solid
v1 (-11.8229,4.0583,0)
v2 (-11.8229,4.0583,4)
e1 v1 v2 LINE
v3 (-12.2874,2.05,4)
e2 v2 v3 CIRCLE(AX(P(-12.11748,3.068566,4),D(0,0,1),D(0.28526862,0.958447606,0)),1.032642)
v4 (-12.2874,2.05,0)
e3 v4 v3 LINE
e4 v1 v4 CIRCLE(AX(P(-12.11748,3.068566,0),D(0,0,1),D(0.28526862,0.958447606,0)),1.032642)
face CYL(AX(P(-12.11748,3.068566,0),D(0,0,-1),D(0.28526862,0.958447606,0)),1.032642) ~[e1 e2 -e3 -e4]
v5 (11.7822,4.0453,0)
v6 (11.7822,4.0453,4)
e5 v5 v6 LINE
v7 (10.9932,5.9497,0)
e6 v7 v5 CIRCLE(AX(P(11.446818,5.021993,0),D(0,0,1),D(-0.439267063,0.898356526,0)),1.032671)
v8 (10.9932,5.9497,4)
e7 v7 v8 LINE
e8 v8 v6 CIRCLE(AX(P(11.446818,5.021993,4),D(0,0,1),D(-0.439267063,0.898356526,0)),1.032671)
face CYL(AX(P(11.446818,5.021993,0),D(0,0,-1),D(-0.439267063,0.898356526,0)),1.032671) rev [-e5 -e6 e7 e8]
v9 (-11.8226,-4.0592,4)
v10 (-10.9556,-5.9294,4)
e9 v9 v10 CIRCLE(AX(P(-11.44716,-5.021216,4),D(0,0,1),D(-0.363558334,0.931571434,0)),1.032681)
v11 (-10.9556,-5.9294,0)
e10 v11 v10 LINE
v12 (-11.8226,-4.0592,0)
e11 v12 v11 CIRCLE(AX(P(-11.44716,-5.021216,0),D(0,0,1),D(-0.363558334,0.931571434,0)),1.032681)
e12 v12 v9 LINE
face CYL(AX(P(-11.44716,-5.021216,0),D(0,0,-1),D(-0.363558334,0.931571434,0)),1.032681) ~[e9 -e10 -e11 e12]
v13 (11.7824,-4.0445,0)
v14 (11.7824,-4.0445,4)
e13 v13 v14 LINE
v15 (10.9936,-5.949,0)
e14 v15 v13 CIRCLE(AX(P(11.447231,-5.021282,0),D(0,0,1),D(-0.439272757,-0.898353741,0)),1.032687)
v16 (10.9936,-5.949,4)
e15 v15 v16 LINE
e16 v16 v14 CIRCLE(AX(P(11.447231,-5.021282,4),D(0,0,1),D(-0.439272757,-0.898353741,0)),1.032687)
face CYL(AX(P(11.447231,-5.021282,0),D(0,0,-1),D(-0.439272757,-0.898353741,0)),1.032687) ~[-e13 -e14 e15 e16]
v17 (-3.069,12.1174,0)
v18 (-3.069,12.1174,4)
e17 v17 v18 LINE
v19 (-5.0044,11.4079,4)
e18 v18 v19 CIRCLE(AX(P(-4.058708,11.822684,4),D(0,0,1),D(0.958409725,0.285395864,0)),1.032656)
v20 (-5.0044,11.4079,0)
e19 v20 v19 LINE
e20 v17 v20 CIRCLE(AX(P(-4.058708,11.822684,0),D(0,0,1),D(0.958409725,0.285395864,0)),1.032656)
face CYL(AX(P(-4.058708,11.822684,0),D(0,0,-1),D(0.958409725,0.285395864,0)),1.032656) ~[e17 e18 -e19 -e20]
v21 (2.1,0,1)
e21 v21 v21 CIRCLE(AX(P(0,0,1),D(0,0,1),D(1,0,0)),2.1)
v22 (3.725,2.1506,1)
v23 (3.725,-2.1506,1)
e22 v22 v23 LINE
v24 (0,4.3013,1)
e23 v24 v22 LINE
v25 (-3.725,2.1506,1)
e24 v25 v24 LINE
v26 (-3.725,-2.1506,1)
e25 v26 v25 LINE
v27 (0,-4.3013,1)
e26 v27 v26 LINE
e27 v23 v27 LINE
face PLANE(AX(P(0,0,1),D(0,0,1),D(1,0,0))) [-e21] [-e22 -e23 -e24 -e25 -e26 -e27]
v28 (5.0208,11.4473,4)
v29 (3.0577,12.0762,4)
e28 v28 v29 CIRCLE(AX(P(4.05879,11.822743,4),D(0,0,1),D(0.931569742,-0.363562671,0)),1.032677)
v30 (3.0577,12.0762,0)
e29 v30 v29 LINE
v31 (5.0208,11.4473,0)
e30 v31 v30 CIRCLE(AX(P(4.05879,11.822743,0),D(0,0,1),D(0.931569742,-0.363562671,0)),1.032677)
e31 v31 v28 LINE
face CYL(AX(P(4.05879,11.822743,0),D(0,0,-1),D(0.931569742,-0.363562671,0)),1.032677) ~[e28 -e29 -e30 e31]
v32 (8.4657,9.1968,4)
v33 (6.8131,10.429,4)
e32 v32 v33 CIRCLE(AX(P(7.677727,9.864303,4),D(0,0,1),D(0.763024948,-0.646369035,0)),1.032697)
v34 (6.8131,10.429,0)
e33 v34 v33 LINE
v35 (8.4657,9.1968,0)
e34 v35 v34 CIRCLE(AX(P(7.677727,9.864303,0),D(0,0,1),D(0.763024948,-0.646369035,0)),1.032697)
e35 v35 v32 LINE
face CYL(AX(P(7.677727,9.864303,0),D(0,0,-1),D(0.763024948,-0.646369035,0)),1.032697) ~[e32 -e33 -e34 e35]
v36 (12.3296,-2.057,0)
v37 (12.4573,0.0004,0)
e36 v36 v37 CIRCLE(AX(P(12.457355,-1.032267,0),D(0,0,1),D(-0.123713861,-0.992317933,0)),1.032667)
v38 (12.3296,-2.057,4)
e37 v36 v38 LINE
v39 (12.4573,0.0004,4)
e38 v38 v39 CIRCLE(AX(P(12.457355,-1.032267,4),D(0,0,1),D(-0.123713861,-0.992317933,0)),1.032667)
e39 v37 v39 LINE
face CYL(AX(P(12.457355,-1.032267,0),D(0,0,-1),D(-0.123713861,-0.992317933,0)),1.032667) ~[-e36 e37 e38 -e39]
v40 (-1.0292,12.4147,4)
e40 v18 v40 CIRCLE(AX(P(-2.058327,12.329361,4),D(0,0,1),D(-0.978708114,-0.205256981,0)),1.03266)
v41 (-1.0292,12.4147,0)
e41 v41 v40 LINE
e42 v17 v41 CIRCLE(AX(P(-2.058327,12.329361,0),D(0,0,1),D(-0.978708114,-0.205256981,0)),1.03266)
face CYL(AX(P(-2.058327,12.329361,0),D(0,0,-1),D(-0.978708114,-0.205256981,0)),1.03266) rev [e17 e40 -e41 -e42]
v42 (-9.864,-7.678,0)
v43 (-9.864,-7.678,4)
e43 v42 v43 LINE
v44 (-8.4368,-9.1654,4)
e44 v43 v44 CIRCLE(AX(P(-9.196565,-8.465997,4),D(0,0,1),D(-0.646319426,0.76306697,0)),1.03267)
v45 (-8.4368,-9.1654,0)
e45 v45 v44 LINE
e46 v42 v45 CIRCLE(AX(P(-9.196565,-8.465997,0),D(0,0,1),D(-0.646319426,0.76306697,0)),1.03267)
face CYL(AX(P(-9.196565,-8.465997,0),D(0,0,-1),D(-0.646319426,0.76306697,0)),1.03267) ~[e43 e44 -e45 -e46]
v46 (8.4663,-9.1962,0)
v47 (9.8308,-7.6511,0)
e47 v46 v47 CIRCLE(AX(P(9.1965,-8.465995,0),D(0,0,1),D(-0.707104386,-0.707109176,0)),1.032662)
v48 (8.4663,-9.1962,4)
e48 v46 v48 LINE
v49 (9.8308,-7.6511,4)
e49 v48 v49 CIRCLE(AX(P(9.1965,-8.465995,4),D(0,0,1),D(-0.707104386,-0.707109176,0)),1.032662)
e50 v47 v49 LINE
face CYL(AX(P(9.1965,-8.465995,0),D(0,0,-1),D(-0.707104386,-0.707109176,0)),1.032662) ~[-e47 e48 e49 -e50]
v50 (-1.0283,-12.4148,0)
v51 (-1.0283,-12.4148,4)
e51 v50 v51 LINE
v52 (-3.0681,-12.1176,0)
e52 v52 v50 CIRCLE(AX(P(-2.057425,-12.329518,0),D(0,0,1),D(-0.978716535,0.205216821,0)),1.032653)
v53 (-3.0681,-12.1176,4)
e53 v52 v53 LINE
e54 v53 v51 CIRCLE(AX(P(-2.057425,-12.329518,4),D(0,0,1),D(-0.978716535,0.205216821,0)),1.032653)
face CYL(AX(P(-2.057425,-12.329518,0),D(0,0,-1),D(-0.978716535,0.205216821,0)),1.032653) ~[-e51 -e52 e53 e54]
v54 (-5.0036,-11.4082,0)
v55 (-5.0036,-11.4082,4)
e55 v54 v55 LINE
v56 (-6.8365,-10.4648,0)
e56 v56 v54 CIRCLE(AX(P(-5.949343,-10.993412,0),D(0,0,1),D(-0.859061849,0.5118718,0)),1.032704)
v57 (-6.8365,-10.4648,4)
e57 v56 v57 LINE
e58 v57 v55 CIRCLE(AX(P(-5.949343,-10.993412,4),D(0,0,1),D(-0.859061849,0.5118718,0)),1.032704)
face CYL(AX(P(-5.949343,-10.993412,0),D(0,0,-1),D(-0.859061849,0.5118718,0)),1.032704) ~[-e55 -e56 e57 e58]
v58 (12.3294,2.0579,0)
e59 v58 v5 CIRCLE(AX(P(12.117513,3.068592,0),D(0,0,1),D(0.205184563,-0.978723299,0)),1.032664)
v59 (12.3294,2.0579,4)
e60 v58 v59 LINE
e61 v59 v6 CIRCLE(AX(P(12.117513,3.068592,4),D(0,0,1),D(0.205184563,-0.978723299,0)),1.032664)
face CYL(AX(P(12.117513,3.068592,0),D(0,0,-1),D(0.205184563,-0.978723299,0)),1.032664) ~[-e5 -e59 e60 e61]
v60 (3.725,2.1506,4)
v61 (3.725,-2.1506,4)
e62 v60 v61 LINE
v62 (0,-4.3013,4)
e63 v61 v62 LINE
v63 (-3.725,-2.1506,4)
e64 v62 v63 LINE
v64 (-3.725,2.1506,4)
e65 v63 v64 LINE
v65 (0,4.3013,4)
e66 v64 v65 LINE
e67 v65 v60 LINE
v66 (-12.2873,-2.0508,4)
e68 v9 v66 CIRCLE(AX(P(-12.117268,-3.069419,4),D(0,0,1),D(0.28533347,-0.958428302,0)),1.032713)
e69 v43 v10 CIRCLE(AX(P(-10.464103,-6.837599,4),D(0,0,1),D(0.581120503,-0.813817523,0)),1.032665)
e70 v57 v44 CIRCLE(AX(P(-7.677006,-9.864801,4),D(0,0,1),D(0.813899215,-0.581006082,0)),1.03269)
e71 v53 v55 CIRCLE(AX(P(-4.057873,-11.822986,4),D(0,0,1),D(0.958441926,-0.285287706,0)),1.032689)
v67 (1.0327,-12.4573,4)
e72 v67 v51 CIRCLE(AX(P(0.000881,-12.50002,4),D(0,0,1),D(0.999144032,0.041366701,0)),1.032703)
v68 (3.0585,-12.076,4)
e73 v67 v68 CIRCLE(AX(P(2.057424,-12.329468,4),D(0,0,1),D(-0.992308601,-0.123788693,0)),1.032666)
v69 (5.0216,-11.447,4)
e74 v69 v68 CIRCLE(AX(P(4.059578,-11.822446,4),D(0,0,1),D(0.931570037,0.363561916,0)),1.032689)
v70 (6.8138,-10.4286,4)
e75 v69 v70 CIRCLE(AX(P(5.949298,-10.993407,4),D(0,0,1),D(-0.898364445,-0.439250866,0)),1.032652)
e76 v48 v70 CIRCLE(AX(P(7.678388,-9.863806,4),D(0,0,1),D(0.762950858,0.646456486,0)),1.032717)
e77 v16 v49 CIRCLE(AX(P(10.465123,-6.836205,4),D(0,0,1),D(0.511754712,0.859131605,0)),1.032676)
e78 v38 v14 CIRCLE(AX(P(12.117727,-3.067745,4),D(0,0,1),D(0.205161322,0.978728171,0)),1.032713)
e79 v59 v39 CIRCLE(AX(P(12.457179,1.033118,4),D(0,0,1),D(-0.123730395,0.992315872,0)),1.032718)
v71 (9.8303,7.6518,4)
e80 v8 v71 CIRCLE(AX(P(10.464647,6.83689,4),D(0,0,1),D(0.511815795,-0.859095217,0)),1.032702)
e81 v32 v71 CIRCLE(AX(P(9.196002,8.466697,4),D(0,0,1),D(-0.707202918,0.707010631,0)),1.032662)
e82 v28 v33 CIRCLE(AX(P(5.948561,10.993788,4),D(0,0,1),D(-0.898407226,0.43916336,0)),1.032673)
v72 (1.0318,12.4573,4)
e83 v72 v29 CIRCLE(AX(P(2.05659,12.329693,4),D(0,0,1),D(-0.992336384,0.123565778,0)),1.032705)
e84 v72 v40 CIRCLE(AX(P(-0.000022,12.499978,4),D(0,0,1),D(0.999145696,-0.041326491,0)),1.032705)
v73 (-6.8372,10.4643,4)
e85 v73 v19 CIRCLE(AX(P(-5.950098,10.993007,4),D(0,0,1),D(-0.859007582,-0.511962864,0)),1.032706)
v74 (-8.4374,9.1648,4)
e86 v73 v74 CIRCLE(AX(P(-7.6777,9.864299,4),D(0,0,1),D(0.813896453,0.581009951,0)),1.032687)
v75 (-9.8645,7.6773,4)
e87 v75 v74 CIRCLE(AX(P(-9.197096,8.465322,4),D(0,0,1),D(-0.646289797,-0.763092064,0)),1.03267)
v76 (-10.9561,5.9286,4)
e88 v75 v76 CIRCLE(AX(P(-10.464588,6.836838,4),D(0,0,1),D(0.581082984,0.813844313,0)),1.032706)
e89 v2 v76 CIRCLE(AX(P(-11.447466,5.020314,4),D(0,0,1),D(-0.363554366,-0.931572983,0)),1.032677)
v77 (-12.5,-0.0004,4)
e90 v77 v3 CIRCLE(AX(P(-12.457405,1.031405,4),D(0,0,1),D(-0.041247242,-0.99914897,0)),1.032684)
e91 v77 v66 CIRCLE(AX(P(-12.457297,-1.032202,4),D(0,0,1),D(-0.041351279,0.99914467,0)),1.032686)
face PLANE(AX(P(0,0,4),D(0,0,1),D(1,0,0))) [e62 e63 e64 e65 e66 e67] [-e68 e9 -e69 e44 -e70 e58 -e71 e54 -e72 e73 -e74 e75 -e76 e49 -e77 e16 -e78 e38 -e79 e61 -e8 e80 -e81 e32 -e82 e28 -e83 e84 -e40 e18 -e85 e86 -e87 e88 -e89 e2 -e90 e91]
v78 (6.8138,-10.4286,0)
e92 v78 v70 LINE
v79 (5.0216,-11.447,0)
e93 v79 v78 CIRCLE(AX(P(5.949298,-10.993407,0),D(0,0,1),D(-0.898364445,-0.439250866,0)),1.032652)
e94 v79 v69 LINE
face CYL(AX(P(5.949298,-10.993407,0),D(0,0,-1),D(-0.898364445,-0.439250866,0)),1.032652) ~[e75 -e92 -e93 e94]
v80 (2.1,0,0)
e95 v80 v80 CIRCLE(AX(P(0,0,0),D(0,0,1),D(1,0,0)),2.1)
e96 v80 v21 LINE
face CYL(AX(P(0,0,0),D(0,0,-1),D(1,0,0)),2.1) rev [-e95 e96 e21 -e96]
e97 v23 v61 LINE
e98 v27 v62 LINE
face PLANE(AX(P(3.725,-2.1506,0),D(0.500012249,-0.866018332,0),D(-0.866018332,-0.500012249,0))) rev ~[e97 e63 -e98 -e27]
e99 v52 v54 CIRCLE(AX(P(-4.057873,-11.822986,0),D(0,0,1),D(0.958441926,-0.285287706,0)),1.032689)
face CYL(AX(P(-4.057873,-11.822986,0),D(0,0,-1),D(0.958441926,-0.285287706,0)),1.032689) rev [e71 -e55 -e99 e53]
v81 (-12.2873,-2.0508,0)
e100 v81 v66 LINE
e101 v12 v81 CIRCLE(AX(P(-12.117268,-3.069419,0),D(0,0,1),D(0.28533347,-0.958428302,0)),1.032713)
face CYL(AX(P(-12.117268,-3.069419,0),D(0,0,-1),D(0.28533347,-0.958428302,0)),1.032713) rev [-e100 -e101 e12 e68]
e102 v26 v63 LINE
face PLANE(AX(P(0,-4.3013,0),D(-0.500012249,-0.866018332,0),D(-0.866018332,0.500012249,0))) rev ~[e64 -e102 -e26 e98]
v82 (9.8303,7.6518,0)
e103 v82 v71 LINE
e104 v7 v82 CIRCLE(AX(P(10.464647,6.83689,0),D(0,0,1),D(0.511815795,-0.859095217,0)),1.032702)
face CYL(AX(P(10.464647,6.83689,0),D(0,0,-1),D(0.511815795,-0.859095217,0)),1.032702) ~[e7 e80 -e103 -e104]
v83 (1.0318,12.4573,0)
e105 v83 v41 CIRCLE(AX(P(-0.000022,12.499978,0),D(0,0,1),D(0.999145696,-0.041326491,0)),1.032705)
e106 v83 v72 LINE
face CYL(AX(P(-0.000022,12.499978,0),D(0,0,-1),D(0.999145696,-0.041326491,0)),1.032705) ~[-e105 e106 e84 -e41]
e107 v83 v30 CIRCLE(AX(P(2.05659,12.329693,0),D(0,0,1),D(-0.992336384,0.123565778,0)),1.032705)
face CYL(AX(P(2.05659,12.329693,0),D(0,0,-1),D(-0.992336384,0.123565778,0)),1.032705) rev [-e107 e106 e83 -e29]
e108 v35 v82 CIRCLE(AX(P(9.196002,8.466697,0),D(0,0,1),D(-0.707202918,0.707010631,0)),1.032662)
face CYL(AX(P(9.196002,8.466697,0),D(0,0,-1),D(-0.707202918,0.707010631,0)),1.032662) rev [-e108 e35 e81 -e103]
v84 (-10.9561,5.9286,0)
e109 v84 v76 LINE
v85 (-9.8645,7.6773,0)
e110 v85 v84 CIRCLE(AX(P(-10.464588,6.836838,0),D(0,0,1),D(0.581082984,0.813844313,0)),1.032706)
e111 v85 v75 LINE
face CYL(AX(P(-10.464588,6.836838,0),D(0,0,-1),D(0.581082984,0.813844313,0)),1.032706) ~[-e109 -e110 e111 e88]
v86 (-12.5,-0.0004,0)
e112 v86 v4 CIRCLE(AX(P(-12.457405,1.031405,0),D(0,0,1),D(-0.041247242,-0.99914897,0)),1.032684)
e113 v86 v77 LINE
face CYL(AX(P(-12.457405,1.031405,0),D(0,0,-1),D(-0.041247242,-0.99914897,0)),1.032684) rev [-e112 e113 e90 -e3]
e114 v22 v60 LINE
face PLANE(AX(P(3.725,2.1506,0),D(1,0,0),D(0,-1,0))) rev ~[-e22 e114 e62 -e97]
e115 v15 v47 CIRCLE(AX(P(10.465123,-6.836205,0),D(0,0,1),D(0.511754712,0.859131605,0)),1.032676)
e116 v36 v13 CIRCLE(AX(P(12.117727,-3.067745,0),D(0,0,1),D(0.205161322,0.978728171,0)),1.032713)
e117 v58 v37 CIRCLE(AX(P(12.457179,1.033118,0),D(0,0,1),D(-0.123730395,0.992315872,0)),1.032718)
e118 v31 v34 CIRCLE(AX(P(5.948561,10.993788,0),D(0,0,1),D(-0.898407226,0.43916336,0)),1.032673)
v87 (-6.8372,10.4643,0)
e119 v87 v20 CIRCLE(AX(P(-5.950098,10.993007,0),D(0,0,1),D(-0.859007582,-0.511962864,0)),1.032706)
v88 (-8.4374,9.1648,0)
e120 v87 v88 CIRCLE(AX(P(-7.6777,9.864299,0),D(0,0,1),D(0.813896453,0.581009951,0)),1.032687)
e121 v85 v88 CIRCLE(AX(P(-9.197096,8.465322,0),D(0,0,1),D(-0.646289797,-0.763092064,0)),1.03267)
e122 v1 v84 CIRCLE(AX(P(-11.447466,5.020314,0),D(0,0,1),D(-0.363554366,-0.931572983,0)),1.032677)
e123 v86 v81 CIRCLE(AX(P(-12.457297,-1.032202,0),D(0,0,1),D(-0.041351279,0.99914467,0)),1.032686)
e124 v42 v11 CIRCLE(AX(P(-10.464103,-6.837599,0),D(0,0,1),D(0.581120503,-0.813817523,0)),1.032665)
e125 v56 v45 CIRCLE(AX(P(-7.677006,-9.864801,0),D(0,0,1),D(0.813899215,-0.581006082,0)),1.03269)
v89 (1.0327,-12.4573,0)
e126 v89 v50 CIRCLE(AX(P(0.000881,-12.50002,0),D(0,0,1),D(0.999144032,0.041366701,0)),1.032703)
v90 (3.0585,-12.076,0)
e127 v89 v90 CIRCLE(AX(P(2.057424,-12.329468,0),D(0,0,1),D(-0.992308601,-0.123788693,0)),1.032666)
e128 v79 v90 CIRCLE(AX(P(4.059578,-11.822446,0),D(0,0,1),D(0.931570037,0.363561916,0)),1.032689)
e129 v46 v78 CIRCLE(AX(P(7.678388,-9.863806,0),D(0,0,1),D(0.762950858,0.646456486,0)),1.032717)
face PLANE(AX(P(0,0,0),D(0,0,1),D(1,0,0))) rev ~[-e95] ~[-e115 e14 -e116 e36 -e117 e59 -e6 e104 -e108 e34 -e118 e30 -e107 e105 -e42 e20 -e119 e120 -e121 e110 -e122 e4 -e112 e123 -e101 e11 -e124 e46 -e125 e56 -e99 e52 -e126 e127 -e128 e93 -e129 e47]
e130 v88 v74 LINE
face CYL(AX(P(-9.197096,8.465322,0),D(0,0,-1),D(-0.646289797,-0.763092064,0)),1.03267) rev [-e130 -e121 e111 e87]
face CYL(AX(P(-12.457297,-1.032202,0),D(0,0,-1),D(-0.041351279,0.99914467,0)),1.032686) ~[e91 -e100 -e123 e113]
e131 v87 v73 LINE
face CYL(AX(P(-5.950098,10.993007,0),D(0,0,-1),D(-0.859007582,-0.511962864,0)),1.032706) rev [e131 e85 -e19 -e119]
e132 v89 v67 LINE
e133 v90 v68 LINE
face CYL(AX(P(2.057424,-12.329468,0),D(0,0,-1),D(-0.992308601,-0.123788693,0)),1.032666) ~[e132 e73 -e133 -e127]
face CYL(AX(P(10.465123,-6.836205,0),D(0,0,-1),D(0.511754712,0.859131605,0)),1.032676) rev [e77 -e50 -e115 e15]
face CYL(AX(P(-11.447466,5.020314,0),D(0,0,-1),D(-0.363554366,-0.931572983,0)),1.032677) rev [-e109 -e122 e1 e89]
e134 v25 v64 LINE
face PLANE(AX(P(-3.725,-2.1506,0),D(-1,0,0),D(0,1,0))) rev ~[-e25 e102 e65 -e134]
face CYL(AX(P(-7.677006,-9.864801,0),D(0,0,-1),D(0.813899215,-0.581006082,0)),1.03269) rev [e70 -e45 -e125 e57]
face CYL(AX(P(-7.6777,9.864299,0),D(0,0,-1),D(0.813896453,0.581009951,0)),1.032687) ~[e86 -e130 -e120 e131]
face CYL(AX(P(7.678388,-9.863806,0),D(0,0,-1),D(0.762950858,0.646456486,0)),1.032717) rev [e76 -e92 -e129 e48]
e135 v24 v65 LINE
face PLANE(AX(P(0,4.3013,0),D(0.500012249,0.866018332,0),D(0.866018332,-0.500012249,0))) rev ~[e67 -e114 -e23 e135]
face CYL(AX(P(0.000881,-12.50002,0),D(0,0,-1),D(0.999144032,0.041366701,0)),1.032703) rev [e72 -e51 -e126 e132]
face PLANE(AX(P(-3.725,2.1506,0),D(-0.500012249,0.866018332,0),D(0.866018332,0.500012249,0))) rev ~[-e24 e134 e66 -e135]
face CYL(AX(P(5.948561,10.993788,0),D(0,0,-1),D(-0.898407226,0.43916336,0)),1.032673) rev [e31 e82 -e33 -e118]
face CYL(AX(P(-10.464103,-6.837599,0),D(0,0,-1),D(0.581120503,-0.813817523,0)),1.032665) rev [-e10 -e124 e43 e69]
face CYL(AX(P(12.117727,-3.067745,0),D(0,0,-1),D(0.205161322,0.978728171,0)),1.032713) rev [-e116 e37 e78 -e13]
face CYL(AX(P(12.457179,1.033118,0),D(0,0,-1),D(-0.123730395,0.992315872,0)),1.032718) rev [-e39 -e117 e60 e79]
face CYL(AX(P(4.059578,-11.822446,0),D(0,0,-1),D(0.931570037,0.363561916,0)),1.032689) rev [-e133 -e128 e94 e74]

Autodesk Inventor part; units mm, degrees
ref_plane "YZ Plane" through (0, 0, 0) normal (1, 0, 0) x (0, 1, 0)
ref_plane "XZ Plane" through (0, 0, 0) normal (0, 1, 0) x (-1, 0, 0)
ref_plane "XY Plane" through (0, 0, 0) normal (0, 0, 1) x (1, 0, 0)
sketch "Эскиз1" plane through (0, 0, 0) normal (0, 0, 1) x (1, 0, 0)
  line L0 (0, 4.3013) -> (3.725, 2.1506)
  line L1 (3.725, 2.1506) -> (3.725, -2.1506)
  line L2 (3.725, -2.1506) -> (0, -4.3013)
  line L3 (0, -4.3013) -> (-3.725, -2.1506)
  line L4 (-3.725, -2.1506) -> (-3.725, 2.1506)
  line L5 (-3.725, 2.1506) -> (0, 4.3013)
  circle A0 centre (0, 0) radius 12.5 construction
  arc A1 (1.0318, 12.4573) -> (-1.0292, 12.4147) centre (0, 12.5) ccw
  arc A2 (-1.0292, 12.4147) -> (-3.069, 12.1174) centre (-2.0583, 12.3294) ccw construction
  arc A3 (-3.069, 12.1174) -> (-1.0292, 12.4147) centre (-2.0583, 12.3294) ccw
  arc A4 (-1.0292, 12.4147) -> (1.0318, 12.4573) centre (0, 12.5) ccw construction
  arc A5 (-3.069, 12.1174) -> (-5.0044, 11.4079) centre (-4.0587, 11.8227) ccw
  arc A6 (-5.0044, 11.4079) -> (-6.8372, 10.4643) centre (-5.9501, 10.993) ccw construction
  arc A7 (-6.8372, 10.4643) -> (-5.0044, 11.4079) centre (-5.9501, 10.993) ccw
  arc A8 (-5.0044, 11.4079) -> (-3.069, 12.1174) centre (-4.0587, 11.8227) ccw construction
  arc A9 (-6.8372, 10.4643) -> (-8.4374, 9.1648) centre (-7.6777, 9.8643) ccw
  arc A10 (-8.4374, 9.1648) -> (-9.8645, 7.6773) centre (-9.1971, 8.4654) ccw construction
  arc A11 (-9.8645, 7.6773) -> (-8.4374, 9.1648) centre (-9.1971, 8.4654) ccw
  arc A12 (-8.4374, 9.1648) -> (-6.8372, 10.4643) centre (-7.6777, 9.8643) ccw construction
  arc A13 (-9.8645, 7.6773) -> (-10.9561, 5.9286) centre (-10.4646, 6.8369) ccw
  arc A14 (-10.9561, 5.9286) -> (-11.8229, 4.0583) centre (-11.4475, 5.0204) ccw construction
  arc A15 (-11.8229, 4.0583) -> (-10.9561, 5.9286) centre (-11.4475, 5.0204) ccw
  arc A16 (-10.9561, 5.9286) -> (-9.8645, 7.6773) centre (-10.4646, 6.8369) ccw construction
  arc A17 (-11.8229, 4.0583) -> (-12.2874, 2.05) centre (-12.1175, 3.0686) ccw
  arc A18 (-12.2874, 2.05) -> (-12.5, -0.0004) centre (-12.4574, 1.0314) ccw construction
  arc A19 (-12.5, -0.0004) -> (-12.2874, 2.05) centre (-12.4574, 1.0314) ccw
  arc A20 (-12.2874, 2.05) -> (-11.8229, 4.0583) centre (-12.1175, 3.0686) ccw construction
  arc A21 (-12.5, -0.0004) -> (-12.2873, -2.0508) centre (-12.4573, -1.0322) ccw
  arc A22 (-12.2873, -2.0508) -> (-11.8226, -4.0592) centre (-12.1173, -3.0694) ccw construction
  arc A23 (-11.8226, -4.0592) -> (-12.2873, -2.0508) centre (-12.1173, -3.0694) ccw
  arc A24 (-12.2873, -2.0508) -> (-12.5, -0.0004) centre (-12.4573, -1.0322) ccw construction
  arc A25 (-11.8226, -4.0592) -> (-10.9556, -5.9294) centre (-11.4472, -5.0212) ccw
  arc A26 (-10.9556, -5.9294) -> (-9.864, -7.678) centre (-10.4641, -6.8376) ccw construction
  arc A27 (-9.864, -7.678) -> (-10.9556, -5.9294) centre (-10.4641, -6.8376) ccw
  arc A28 (-10.9556, -5.9294) -> (-11.8226, -4.0592) centre (-11.4472, -5.0212) ccw construction
  arc A29 (-9.864, -7.678) -> (-8.4368, -9.1654) centre (-9.1965, -8.466) ccw
  arc A30 (-8.4368, -9.1654) -> (-6.8365, -10.4648) centre (-7.677, -9.8648) ccw construction
  arc A31 (-6.8365, -10.4648) -> (-8.4368, -9.1654) centre (-7.677, -9.8648) ccw
  arc A32 (-8.4368, -9.1654) -> (-9.864, -7.678) centre (-9.1965, -8.466) ccw construction
  arc A33 (-6.8365, -10.4648) -> (-5.0036, -11.4082) centre (-5.9493, -10.9934) ccw
  arc A34 (-5.0036, -11.4082) -> (-3.0681, -12.1176) centre (-4.0579, -11.823) ccw construction
  arc A35 (-3.0681, -12.1176) -> (-5.0036, -11.4082) centre (-4.0579, -11.823) ccw
  arc A36 (-5.0036, -11.4082) -> (-6.8365, -10.4648) centre (-5.9493, -10.9934) ccw construction
  arc A37 (-3.0681, -12.1176) -> (-1.0283, -12.4148) centre (-2.0574, -12.3295) ccw
  arc A38 (-1.0283, -12.4148) -> (1.0327, -12.4573) centre (0.0009, -12.5) ccw construction
  arc A39 (1.0327, -12.4573) -> (-1.0283, -12.4148) centre (0.0009, -12.5) ccw
  arc A40 (-1.0283, -12.4148) -> (-3.0681, -12.1176) centre (-2.0574, -12.3295) ccw construction
  arc A41 (1.0327, -12.4573) -> (3.0585, -12.076) centre (2.0574, -12.3295) ccw
  arc A42 (3.0585, -12.076) -> (5.0216, -11.447) centre (4.0596, -11.8224) ccw construction
  arc A43 (5.0216, -11.447) -> (3.0585, -12.076) centre (4.0596, -11.8224) ccw
  arc A44 (3.0585, -12.076) -> (1.0327, -12.4573) centre (2.0574, -12.3295) ccw construction
  arc A45 (5.0216, -11.447) -> (6.8138, -10.4286) centre (5.9493, -10.9934) ccw
  arc A46 (6.8138, -10.4286) -> (8.4663, -9.1962) centre (7.6784, -9.8637) ccw construction
  arc A47 (8.4663, -9.1962) -> (6.8138, -10.4286) centre (7.6784, -9.8637) ccw
  arc A48 (6.8138, -10.4286) -> (5.0216, -11.447) centre (5.9493, -10.9934) ccw construction
  arc A49 (8.4663, -9.1962) -> (9.8308, -7.6511) centre (9.1965, -8.466) ccw
  arc A50 (9.8308, -7.6511) -> (10.9936, -5.949) centre (10.4651, -6.8361) ccw construction
  arc A51 (10.9936, -5.949) -> (9.8308, -7.6511) centre (10.4651, -6.8361) ccw
  arc A52 (9.8308, -7.6511) -> (8.4663, -9.1962) centre (9.1965, -8.466) ccw construction
  arc A53 (10.9936, -5.949) -> (11.7824, -4.0445) centre (11.4472, -5.0212) ccw
  arc A54 (11.7824, -4.0445) -> (12.3296, -2.057) centre (12.1177, -3.0677) ccw construction
  arc A55 (12.3296, -2.057) -> (11.7824, -4.0445) centre (12.1177, -3.0677) ccw
  arc A56 (11.7824, -4.0445) -> (10.9936, -5.949) centre (11.4472, -5.0212) ccw construction
  arc A57 (12.3296, -2.057) -> (12.4573, 0.0004) centre (12.4573, -1.0322) ccw
  arc A58 (12.4573, 0.0004) -> (12.3294, 2.0579) centre (12.4572, 1.0331) ccw construction
  arc A59 (12.3294, 2.0579) -> (12.4573, 0.0004) centre (12.4572, 1.0331) ccw
  arc A60 (12.4573, 0.0004) -> (12.3296, -2.057) centre (12.4573, -1.0322) ccw construction
  arc A61 (12.3294, 2.0579) -> (11.7822, 4.0453) centre (12.1175, 3.0686) ccw
  arc A62 (11.7822, 4.0453) -> (10.9932, 5.9497) centre (11.4468, 5.022) ccw construction
  arc A63 (10.9932, 5.9497) -> (11.7822, 4.0453) centre (11.4468, 5.022) ccw
  arc A64 (11.7822, 4.0453) -> (12.3294, 2.0579) centre (12.1175, 3.0686) ccw construction
  arc A65 (10.9932, 5.9497) -> (9.8303, 7.6518) centre (10.4646, 6.8369) ccw
  arc A66 (9.8303, 7.6518) -> (8.4657, 9.1968) centre (9.1959, 8.4667) ccw construction
  arc A67 (8.4657, 9.1968) -> (9.8303, 7.6518) centre (9.1959, 8.4667) ccw
  arc A68 (9.8303, 7.6518) -> (10.9932, 5.9497) centre (10.4646, 6.8369) ccw construction
  arc A69 (8.4657, 9.1968) -> (6.8131, 10.429) centre (7.6777, 9.8643) ccw
  arc A70 (6.8131, 10.429) -> (5.0208, 11.4473) centre (5.9486, 10.9938) ccw construction
  arc A71 (5.0208, 11.4473) -> (6.8131, 10.429) centre (5.9486, 10.9938) ccw
  arc A72 (6.8131, 10.429) -> (8.4657, 9.1968) centre (7.6777, 9.8643) ccw construction
  arc A73 (5.0208, 11.4473) -> (3.0577, 12.0762) centre (4.0587, 11.8227) ccw
  arc A74 (3.0577, 12.0762) -> (1.0318, 12.4573) centre (2.0566, 12.3297) ccw construction
  arc A75 (1.0318, 12.4573) -> (3.0577, 12.0762) centre (2.0566, 12.3297) ccw
  arc A76 (3.0577, 12.0762) -> (5.0208, 11.4473) centre (4.0587, 11.8227) ccw construction
  circle A77 centre (0, 0) radius 2.1
  point P0 (-1.0318, 12.4573)
  point P1 (-5.0208, 11.4473)
  point P2 (-8.4657, 9.1968)
  point P3 (-10.9932, 5.9497)
  point P4 (-12.3294, 2.0579)
  point P5 (-12.3296, -2.057)
  point P6 (-10.9936, -5.949)
  point P7 (-8.4663, -9.1962)
  point P8 (-5.0216, -11.447)
  point P9 (-1.0327, -12.4573)
  point P10 (3.0681, -12.1176)
  point P11 (6.8365, -10.4648)
  point P12 (9.864, -7.678)
  point P13 (11.8226, -4.0592)
  point P14 (12.5, -0.0004)
  point P15 (11.8229, 4.0583)
  point P16 (9.8645, 7.6773)
  point P17 (6.8372, 10.4643)
  point P18 (3.069, 12.1174)
  point P19 (5.0208, 11.4473)
  point P20 (1.0318, 12.4573)
  point P21 (-3.069, 12.1174)
  point P22 (-9.8645, 7.6773)
  point P23 (-12.5, -0.0004)
  point P24 (-11.8226, -4.0592)
  point P25 (-9.864, -7.678)
  point P26 (-6.8365, -10.4648)
  point P27 (-3.0681, -12.1176)
  point P28 (1.0327, -12.4573)
  point P29 (5.0216, -11.447)
  point P30 (8.4663, -9.1962)
  point P31 (12.3296, -2.057)
  point P32 (12.3294, 2.0579)
  point P33 (10.9932, 5.9497)
  point P34 (8.4657, 9.1968)
  dimension "d0" = 7.45
  dimension "d1" = 25
  dimension "d6" = 360
  dimension "d8" = 4.2
extrude "Выдавливание1" add sketch "Эскиз1" along normal blind 4 contours A75 A73 A71 A69 A67 A65 A63 A61 A59 A57 A55 A53 A51 A49 A47 A45 A43 A41 A39 A37 A35 A33 A31 A29 A27 A25 A23 A21 A19 A17 A15 A13 A11 A9 A7 A5 A3 A1
extrude "Выдавливание2" add sketch "Эскиз1" along normal blind 1 contours L0 L1 L2 L3 L4 L5
properties part number "X_belt3"
